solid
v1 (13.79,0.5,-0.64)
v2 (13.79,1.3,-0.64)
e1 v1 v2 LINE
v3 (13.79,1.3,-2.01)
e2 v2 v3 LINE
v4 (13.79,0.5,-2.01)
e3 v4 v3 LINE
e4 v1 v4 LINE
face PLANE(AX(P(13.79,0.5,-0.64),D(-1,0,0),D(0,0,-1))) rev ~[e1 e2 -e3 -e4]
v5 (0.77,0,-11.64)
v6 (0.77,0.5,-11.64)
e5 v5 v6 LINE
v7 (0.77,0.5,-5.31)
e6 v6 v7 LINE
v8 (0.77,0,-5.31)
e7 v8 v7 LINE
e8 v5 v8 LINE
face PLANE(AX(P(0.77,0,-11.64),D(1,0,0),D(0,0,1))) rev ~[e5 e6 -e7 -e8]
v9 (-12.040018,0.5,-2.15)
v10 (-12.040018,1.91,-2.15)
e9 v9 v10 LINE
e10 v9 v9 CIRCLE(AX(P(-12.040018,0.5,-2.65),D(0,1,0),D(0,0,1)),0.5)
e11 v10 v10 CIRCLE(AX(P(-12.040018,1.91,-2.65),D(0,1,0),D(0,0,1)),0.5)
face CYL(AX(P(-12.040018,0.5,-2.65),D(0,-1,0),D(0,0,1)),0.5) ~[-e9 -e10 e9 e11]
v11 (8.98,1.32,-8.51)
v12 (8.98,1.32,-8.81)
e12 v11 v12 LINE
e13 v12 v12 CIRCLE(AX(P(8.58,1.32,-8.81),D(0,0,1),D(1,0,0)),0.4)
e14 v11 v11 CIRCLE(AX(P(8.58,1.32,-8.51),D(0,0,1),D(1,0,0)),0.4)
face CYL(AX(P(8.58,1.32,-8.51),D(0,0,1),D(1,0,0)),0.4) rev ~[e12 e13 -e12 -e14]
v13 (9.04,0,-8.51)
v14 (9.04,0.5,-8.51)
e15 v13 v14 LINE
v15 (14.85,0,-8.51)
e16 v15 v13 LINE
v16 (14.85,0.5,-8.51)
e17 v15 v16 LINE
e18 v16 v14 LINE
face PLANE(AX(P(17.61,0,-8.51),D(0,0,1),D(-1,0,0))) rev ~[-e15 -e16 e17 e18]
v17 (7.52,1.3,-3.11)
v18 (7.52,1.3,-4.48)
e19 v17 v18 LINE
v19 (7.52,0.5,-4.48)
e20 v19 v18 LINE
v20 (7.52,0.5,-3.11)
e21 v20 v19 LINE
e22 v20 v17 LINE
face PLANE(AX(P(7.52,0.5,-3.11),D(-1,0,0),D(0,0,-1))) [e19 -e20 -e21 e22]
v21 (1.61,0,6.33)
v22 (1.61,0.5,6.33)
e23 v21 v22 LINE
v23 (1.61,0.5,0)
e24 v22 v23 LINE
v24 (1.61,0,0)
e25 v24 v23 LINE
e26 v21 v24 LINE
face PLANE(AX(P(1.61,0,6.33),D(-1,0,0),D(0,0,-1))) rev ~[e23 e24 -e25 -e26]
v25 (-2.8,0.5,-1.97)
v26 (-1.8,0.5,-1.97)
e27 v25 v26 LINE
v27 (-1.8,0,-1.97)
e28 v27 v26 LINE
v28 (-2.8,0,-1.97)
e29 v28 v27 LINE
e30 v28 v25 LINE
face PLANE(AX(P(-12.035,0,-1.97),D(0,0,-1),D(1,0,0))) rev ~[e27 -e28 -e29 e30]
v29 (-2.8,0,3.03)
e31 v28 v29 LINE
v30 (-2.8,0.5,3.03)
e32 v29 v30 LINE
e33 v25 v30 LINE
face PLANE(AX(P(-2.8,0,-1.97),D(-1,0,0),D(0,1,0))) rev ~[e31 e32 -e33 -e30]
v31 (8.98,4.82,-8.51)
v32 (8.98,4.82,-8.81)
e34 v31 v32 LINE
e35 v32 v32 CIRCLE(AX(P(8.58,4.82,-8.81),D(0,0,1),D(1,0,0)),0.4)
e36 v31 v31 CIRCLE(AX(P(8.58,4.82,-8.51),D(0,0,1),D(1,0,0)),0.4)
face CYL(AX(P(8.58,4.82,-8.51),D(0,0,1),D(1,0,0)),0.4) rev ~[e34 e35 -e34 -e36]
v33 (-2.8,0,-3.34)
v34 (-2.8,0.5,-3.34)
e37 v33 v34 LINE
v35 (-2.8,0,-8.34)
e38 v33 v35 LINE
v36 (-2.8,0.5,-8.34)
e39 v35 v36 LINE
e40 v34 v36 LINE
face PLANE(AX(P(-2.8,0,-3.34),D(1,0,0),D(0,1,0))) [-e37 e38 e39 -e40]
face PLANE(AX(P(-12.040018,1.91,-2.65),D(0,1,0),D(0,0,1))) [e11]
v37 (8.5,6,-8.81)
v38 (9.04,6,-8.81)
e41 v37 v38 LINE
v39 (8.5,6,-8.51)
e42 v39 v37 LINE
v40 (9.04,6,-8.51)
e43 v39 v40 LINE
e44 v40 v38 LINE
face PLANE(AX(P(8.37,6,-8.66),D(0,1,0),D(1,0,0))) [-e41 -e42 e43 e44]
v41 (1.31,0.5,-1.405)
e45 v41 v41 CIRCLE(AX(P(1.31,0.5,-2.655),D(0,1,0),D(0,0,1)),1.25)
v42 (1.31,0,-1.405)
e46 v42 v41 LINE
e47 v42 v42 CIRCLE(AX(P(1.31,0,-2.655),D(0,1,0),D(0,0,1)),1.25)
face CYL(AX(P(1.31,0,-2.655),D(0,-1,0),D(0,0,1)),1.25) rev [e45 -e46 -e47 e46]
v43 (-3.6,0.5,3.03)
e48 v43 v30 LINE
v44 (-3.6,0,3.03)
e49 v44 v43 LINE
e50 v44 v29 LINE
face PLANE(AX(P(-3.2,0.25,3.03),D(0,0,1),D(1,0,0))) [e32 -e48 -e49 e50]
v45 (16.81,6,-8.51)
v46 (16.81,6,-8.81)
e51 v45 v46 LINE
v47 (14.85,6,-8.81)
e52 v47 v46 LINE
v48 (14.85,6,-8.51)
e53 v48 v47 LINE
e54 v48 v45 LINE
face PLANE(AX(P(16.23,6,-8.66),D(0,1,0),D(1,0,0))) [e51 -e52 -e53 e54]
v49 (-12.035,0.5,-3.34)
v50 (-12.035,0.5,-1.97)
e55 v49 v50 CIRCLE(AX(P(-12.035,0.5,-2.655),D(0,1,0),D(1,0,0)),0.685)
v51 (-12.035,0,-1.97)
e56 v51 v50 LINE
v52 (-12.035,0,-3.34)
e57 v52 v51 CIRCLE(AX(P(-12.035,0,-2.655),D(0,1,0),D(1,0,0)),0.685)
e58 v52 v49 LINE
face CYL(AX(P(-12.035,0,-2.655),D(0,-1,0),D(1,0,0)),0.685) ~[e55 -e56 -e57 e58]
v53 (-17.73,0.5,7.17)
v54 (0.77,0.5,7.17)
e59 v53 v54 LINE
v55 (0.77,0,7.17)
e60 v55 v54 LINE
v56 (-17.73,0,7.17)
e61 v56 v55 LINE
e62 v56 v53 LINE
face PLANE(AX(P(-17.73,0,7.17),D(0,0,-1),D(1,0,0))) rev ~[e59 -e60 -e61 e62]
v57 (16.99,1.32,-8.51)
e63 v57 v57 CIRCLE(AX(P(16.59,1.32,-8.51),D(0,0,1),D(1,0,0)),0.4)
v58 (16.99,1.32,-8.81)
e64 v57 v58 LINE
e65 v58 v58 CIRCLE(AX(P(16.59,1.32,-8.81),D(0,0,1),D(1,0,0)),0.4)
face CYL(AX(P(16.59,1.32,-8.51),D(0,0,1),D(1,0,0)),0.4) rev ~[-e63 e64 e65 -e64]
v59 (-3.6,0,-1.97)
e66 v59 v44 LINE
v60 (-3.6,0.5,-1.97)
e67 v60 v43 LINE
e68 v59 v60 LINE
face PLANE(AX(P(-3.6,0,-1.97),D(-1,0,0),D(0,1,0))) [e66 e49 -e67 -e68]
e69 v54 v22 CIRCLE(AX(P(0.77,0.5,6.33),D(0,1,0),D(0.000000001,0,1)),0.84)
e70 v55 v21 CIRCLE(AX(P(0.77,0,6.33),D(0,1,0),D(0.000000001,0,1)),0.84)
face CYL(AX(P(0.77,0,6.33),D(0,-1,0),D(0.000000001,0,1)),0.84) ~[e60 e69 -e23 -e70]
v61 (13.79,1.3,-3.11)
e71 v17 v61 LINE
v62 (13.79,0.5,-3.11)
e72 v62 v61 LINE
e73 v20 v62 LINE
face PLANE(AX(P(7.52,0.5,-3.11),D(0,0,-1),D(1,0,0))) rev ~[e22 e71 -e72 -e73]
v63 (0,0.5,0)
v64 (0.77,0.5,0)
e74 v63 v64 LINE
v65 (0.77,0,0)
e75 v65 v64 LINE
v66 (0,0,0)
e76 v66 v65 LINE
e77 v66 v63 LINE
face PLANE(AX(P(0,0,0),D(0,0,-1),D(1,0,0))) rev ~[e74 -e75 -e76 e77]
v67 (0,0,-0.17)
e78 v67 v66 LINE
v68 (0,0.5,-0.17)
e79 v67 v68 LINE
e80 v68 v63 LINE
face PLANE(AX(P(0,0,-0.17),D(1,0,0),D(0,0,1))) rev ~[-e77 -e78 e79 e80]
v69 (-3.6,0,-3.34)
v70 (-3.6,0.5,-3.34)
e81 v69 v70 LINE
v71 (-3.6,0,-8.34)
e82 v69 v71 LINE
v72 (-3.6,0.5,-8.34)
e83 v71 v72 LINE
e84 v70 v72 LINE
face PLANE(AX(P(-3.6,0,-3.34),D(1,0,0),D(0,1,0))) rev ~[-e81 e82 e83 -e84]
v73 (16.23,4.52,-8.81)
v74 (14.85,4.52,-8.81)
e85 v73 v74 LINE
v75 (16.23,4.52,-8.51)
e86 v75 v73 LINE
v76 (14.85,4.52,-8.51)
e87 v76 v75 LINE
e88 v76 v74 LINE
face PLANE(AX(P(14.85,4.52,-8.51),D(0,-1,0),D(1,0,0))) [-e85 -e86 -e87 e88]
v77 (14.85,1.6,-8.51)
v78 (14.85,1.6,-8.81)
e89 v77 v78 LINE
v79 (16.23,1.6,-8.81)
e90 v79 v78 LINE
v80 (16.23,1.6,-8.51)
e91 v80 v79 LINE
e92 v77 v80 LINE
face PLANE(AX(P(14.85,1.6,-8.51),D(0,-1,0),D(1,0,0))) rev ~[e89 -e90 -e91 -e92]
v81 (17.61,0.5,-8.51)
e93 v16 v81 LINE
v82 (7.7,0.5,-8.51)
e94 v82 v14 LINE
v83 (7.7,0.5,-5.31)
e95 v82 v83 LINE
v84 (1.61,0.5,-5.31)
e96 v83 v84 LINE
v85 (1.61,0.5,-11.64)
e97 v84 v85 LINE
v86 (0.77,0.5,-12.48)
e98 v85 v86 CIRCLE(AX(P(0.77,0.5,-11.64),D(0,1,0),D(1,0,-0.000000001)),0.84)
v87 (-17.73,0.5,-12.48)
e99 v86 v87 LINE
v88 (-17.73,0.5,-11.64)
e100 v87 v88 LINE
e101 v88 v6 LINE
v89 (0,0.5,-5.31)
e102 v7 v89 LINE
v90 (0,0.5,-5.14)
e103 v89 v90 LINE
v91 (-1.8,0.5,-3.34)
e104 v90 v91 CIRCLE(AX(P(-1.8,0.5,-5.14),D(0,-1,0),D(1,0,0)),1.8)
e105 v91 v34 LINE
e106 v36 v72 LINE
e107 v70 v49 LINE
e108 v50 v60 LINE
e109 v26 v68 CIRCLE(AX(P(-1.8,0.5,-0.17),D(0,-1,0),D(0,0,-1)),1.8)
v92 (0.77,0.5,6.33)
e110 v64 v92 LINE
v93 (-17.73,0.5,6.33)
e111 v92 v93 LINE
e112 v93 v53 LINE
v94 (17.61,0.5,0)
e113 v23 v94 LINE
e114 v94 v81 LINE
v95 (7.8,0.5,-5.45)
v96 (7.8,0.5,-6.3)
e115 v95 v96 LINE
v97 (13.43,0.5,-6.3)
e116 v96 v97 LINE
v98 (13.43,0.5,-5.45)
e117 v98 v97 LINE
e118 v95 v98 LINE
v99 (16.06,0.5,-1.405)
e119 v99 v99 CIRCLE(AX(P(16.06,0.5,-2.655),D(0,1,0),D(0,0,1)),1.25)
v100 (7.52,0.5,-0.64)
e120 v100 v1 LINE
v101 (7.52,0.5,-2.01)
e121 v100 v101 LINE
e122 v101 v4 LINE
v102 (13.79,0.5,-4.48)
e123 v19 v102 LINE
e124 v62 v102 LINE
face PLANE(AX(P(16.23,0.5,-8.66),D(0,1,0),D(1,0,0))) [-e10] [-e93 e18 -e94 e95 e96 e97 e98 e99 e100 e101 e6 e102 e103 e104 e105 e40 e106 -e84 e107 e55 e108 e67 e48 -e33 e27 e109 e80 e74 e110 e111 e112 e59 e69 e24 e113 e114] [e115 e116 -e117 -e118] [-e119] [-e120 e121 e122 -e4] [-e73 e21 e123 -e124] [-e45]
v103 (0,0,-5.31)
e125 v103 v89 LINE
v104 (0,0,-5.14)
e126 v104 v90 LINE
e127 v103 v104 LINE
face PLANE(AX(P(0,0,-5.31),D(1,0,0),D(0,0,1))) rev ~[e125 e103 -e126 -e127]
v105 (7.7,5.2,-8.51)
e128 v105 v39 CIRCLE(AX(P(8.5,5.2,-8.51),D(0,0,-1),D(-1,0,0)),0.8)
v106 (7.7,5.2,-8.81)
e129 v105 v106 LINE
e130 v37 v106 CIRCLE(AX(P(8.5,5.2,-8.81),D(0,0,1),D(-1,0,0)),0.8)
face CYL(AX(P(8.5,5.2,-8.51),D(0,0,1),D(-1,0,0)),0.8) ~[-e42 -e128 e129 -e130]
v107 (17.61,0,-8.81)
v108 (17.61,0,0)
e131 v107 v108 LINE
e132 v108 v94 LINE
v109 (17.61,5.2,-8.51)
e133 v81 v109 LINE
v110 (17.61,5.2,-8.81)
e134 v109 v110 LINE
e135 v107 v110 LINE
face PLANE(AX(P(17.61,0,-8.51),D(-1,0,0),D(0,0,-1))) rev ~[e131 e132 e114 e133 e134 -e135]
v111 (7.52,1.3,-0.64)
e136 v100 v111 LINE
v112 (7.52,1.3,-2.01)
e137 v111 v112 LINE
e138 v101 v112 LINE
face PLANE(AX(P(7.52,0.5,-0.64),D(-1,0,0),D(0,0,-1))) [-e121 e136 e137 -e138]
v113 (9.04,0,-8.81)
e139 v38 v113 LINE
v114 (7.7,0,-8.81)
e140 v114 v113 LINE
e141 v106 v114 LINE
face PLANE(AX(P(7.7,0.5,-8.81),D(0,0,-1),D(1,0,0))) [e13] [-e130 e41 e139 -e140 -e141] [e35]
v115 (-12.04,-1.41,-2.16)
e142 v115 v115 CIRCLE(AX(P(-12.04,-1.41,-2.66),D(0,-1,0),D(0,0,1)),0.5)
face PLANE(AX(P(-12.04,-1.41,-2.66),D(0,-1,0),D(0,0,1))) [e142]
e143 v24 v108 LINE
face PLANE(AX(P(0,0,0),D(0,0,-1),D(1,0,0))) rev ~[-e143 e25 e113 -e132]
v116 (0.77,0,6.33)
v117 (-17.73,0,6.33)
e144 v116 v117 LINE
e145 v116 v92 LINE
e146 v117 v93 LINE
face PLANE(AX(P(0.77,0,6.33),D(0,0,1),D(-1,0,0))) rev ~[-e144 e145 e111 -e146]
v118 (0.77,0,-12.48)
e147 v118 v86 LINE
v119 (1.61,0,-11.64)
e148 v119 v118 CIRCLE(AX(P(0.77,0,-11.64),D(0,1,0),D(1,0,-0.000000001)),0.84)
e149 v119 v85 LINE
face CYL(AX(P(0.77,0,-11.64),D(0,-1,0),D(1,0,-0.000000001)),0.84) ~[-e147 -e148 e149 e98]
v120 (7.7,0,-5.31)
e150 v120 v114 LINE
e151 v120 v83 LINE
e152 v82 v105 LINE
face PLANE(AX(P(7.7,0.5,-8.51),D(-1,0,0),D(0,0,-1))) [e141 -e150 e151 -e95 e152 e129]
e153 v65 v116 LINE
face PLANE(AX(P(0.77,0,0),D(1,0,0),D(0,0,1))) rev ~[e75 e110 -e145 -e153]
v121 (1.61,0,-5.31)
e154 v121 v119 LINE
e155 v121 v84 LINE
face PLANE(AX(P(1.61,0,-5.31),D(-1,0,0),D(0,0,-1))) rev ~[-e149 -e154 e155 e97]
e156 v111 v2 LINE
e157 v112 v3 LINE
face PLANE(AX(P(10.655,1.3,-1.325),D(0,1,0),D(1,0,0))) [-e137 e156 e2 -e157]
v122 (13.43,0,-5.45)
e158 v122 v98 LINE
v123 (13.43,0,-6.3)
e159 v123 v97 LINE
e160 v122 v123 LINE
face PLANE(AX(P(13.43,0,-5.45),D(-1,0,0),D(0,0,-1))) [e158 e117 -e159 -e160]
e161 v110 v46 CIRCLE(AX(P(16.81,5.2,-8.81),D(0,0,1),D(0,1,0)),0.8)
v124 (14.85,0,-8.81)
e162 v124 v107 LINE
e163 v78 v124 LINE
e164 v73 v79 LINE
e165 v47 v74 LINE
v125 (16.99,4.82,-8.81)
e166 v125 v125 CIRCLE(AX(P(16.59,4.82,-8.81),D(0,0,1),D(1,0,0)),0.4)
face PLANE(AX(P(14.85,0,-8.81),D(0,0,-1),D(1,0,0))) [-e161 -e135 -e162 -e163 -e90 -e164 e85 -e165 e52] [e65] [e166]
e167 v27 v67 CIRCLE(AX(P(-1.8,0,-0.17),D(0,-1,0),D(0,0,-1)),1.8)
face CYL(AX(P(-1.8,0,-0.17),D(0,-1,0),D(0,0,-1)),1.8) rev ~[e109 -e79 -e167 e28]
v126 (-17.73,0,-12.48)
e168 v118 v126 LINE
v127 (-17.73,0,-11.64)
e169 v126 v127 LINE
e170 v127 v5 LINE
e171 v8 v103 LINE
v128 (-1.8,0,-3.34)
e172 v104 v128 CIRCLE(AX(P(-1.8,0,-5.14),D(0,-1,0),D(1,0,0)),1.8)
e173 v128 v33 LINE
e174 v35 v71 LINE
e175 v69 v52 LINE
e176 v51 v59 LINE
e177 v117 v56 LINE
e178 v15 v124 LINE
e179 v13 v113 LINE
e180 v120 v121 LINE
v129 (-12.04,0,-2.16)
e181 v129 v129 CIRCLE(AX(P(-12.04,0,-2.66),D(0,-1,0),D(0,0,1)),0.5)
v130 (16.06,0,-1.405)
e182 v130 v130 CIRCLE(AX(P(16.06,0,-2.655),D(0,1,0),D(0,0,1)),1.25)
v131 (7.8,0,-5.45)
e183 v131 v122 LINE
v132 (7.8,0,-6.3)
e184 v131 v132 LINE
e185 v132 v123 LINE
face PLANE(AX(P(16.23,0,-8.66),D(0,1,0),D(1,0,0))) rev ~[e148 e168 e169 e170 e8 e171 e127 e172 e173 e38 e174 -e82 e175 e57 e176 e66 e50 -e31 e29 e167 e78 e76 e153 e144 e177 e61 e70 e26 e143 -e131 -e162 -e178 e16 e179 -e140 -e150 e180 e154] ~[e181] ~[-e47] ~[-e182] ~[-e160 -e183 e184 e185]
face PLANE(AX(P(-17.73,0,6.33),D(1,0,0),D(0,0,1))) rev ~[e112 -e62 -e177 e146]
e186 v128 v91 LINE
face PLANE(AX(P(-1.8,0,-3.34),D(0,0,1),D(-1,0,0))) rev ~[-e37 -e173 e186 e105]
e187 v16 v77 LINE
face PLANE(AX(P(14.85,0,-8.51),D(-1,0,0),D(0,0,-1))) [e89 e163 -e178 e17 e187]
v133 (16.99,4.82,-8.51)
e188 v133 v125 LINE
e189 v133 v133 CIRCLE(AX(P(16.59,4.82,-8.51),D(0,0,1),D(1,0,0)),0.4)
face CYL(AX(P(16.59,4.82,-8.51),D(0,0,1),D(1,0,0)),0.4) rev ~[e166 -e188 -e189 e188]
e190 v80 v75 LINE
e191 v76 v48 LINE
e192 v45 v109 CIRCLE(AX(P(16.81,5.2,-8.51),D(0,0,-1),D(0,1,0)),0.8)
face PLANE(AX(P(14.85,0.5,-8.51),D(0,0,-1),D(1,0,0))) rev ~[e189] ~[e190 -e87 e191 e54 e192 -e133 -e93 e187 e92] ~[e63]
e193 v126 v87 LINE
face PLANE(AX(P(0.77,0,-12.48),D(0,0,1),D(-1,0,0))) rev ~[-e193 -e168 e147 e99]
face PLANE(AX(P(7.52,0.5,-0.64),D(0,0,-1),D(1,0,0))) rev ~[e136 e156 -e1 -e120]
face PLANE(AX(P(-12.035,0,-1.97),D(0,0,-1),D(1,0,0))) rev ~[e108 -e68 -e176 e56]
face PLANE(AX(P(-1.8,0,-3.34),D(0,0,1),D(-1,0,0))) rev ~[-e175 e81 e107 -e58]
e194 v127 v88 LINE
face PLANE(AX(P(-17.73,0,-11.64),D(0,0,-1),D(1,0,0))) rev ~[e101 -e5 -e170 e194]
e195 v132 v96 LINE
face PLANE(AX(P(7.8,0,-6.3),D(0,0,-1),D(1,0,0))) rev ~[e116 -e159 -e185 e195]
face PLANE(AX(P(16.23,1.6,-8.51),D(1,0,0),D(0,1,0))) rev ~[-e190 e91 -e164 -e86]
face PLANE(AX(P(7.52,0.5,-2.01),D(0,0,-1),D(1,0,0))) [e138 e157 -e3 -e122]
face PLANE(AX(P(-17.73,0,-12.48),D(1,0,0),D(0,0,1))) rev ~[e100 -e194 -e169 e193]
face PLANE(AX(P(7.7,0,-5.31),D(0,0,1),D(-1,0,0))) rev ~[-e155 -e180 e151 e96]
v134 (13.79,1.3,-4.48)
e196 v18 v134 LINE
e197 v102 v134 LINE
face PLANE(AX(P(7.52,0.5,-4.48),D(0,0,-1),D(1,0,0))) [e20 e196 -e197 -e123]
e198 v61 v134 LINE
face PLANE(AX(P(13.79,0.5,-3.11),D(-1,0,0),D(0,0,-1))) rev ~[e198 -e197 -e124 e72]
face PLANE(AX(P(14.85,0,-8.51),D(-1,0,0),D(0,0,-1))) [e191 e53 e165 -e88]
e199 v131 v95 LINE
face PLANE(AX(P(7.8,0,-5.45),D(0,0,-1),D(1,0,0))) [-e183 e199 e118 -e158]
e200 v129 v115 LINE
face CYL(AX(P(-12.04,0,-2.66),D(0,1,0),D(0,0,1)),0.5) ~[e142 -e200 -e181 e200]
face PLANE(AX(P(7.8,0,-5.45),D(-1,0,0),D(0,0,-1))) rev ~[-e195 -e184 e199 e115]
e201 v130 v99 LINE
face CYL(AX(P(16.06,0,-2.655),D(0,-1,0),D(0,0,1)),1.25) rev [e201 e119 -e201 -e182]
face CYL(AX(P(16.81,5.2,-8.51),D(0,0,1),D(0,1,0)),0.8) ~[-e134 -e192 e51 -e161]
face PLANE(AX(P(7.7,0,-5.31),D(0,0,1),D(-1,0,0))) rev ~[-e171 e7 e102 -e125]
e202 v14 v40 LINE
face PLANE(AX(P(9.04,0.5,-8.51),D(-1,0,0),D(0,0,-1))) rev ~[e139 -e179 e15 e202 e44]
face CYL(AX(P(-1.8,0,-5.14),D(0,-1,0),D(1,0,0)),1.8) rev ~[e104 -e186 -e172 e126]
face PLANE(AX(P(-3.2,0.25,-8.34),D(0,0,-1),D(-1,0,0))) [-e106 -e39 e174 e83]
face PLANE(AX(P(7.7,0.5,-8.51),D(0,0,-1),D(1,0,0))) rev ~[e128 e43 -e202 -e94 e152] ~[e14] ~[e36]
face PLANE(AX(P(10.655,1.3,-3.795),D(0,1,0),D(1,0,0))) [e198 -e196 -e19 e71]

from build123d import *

# Parameters (mm, degrees)
SKETCH1_W           = 6.27
SKETCH1_H           = 1.37
SKETCH1_R           = 1.25
SKETCH1_W_2         = 5.63
SKETCH1_H_2         = 0.85
SKETCH1_R_2         = 0.685
SKETCH1_R_3         = 0.5
SKETCH1_W_3         = 1.34
SKETCH1_H_3         = 0.3
SKETCH1_W_4         = 2.76
BOSS_EXTRUDE2_DEPTH = 0.5
SKETCH4_R           = 0.5
BOSS_EXTRUDE3_DEPTH = 1.41
SKETCH5_R           = 0.5
BOSS_EXTRUDE4_DEPTH = 1.41
SKETCH6_W           = 6.27
SKETCH6_H           = 1.37
BOSS_EXTRUDE5_DEPTH = 0.8
SKETCH7_W           = 1.34
SKETCH7_H           = 0.3
SKETCH7_W_2         = 2.76
BOSS_EXTRUDE6_DEPTH = 5.5
SKETCH8_W           = 1.38
SKETCH8_H           = 2.92
CUT_EXTRUDE1_DEPTH  = 5.5
SKETCH9_R           = 0.4
CUT_EXTRUDE2_DEPTH  = 5.5
SKETCH10_R          = 0.4
CUT_EXTRUDE4_DEPTH  = 5.5
SKETCH11_W          = 0.8
SKETCH11_H          = 0.5
BOSS_EXTRUDE7_DEPTH = 5
SKETCH12_W          = 0.8
SKETCH12_H          = 0.5
BOSS_EXTRUDE8_DEPTH = 5


with BuildPart() as part:
    # Sketch1 → Boss-Extrude2 (new body)
    # profile 1 of 9: a face of its own
    with BuildSketch(Plane(origin=(0, 0, 0), x_dir=(1, 0, 0), z_dir=(0, 1, 0))):
        with BuildLine():
            Line((0, 5.31), (0, 5.14))
            ThreePointArc((0, 5.14), (-0.527207794, 3.867207794), (-1.8, 3.34))
            Line((-1.8, 3.34), (-12.035, 3.34))
            ThreePointArc((-12.035, 3.34), (-11.550631855, 3.139368145), (-11.35, 2.655))
            ThreePointArc((-11.35, 2.655), (-11.550631855, 2.170631855), (-12.035, 1.97))
            Line((-12.035, 1.97), (-1.8, 1.97))
            ThreePointArc((-1.8, 1.97), (-0.527207794, 1.442792206), (0, 0.17))
            Line((0, 0.17), (0, 0))
            Line((0, 0), (0.77, 0))
            Line((0.77, 0), (1.61, 0))
            Line((1.61, 0), (17.61, 0))
            Line((17.61, 0), (17.61, 8.51))
            Line((17.61, 8.51), (14.85, 8.51))
            Line((14.85, 8.51), (9.04, 8.51))
            Line((9.04, 8.51), (7.7, 8.51))
            Line((7.7, 8.51), (7.7, 5.31))
            Line((7.7, 5.31), (1.61, 5.31))
            Line((1.61, 5.31), (0.77, 5.31))
            Line((0.77, 5.31), (0, 5.31))
        make_face()
        with Locations((10.655, 1.325)):
            Rectangle(SKETCH1_W, SKETCH1_H, mode=Mode.SUBTRACT)
        with Locations(Location((1.31, 2.655, 0), (0, 0, 270))):
            Circle(SKETCH1_R, mode=Mode.SUBTRACT)
        with Locations((10.655, 3.795)):
            Rectangle(SKETCH1_W, SKETCH1_H, mode=Mode.SUBTRACT)
        with Locations(Location((16.06, 2.655, 0), (0, 0, 270))):
            Circle(SKETCH1_R, mode=Mode.SUBTRACT)
        with Locations((10.615, 5.875)):
            Rectangle(SKETCH1_W_2, SKETCH1_H_2, mode=Mode.SUBTRACT)
    # profile 2 of 9: a face of its own
    with BuildSketch(Plane(origin=(0, 0, 0), x_dir=(1, 0, 0), z_dir=(0, 1, 0))):
        with BuildLine():
            Line((0.77, 11.64), (0.77, 5.31))
            Line((0.77, 5.31), (1.61, 5.31))
            Line((1.61, 5.31), (1.61, 11.64))
            ThreePointArc((1.61, 11.64), (1.363969696, 12.233969696), (0.77, 12.48))
            Line((0.77, 12.48), (-17.73, 12.48))
            Line((-17.73, 12.48), (-17.73, 11.64))
            Line((-17.73, 11.64), (0.77, 11.64))
        make_face()
    # profile 3 of 9: a face of its own
    with BuildSketch(Plane(origin=(0, 0, 0), x_dir=(1, 0, 0), z_dir=(0, 1, 0))):
        with BuildLine():
            Line((1.61, 0), (0.77, 0))
            Line((0.77, 0), (0.77, -6.33))
            Line((0.77, -6.33), (-17.73, -6.33))
            Line((-17.73, -6.33), (-17.73, -7.17))
            Line((-17.73, -7.17), (0.77, -7.17))
            ThreePointArc((0.77, -7.17), (1.363969696, -6.923969696), (1.61, -6.33))
            Line((1.61, -6.33), (1.61, 0))
        make_face()
    # profile 4 of 9: a face of its own
    with BuildSketch(Plane(origin=(0, 0, 0), x_dir=(1, 0, 0), z_dir=(0, 1, 0))):
        with Locations((10.655, 1.325)):
            Rectangle(SKETCH1_W, SKETCH1_H)
    # profile 5 of 9: a face of its own
    with BuildSketch(Plane(origin=(0, 0, 0), x_dir=(1, 0, 0), z_dir=(0, 1, 0))):
        with Locations((10.655, 3.795)):
            Rectangle(SKETCH1_W, SKETCH1_H)
    # profile 6 of 9: a face of its own
    with BuildSketch(Plane(origin=(0, 0, 0), x_dir=(1, 0, 0), z_dir=(0, 1, 0))):
        with Locations((-12.035, 2.655)):
            Circle(SKETCH1_R_2)
        with Locations((-12.035, 2.655)):
            Circle(SKETCH1_R_3, mode=Mode.SUBTRACT)
    # profile 7 of 9: a face of its own
    with BuildSketch(Plane(origin=(0, 0, 0), x_dir=(1, 0, 0), z_dir=(0, 1, 0))):
        with Locations((-12.035, 2.655)):
            Circle(SKETCH1_R_3)
    # profile 8 of 9: a face of its own
    with BuildSketch(Plane(origin=(0, 0, 0), x_dir=(1, 0, 0), z_dir=(0, 1, 0))):
        with Locations((8.37, 8.66)):
            Rectangle(SKETCH1_W_3, SKETCH1_H_3)
    # profile 9 of 9: a face of its own
    with BuildSketch(Plane(origin=(0, 0, 0), x_dir=(1, 0, 0), z_dir=(0, 1, 0))):
        with Locations((16.23, 8.66)):
            Rectangle(SKETCH1_W_4, SKETCH1_H_3)
    extrude(amount=BOSS_EXTRUDE2_DEPTH)

    # Sketch4 → Boss-Extrude3 (add)
    with BuildSketch(Plane(origin=(0, 0.5, 0), x_dir=(1, 0, 0), z_dir=(0, 1, 0))):
        with Locations(Location((-12.040018383, 2.65, 0), (0, 0, 270))):
            Circle(SKETCH4_R)
    extrude(amount=BOSS_EXTRUDE3_DEPTH)

    # Sketch5 → Boss-Extrude4 (add)
    with BuildSketch(Plane.XZ):
        with Locations(Location((-12.04, -2.66, 0), (0, 0, 90))):
            Circle(SKETCH5_R)
    extrude(amount=BOSS_EXTRUDE4_DEPTH)

    # Sketch6 → Boss-Extrude5 (add)
    with BuildSketch(Plane(origin=(0, 0.5, 0), x_dir=(1, 0, 0), z_dir=(0, 1, 0))):
        with Locations((10.655, 3.795)):
            Rectangle(SKETCH6_W, SKETCH6_H)
        with Locations((10.655, 1.325)):
            Rectangle(SKETCH6_W, SKETCH6_H)
    extrude(amount=BOSS_EXTRUDE5_DEPTH)

    # Sketch7 → Boss-Extrude6 (add)
    with BuildSketch(Plane(origin=(0, 0.5, 0), x_dir=(1, 0, 0), z_dir=(0, 1, 0))):
        with Locations((8.37, 8.66)):
            Rectangle(SKETCH7_W, SKETCH7_H)
        with Locations((16.23, 8.66)):
            Rectangle(SKETCH7_W_2, SKETCH7_H)
    extrude(amount=BOSS_EXTRUDE6_DEPTH)

    # Sketch8 → Cut-Extrude1 (cut)
    with BuildSketch(Plane.XY.offset(-8.51)):
        with Locations((15.54, 3.06)):
            Rectangle(SKETCH8_W, SKETCH8_H)
    extrude(amount=-CUT_EXTRUDE1_DEPTH, mode=Mode.SUBTRACT)

    # Sketch9 → Cut-Extrude2 (cut)
    with BuildSketch(Plane.XY.offset(-8.51)):
        with BuildLine():
            ThreePointArc((7.7, 5.2), (7.934314575, 5.765685425), (8.5, 6))
            Line((8.5, 6), (7.7, 6))
            Line((7.7, 6), (7.7, 5.2))
        make_face()
        with Locations((8.58, 4.82)):
            Circle(SKETCH9_R)
        with Locations((8.58, 1.32)):
            Circle(SKETCH9_R)
    extrude(amount=-CUT_EXTRUDE2_DEPTH, mode=Mode.SUBTRACT)

    # Sketch10 → Cut-Extrude4 (cut)
    with BuildSketch(Plane.XY.offset(-8.51)):
        with Locations((16.59, 4.82)):
            Circle(SKETCH10_R)
        with BuildLine():
            Line((17.61, 6), (16.81, 6))
            ThreePointArc((16.81, 6), (17.375685425, 5.765685425), (17.61, 5.2))
            Line((17.61, 5.2), (17.61, 6))
        make_face()
        with Locations((16.59, 1.32)):
            Circle(SKETCH10_R)
    extrude(amount=-CUT_EXTRUDE4_DEPTH, mode=Mode.SUBTRACT)

    # Sketch11 → Boss-Extrude7 (add)
    with BuildSketch(Plane.XY.offset(-1.97)):
        with Locations((-3.2, 0.25)):
            Rectangle(SKETCH11_W, SKETCH11_H)
    extrude(amount=BOSS_EXTRUDE7_DEPTH)

    # Sketch12 → Boss-Extrude8 (add)
    with BuildSketch(Plane(origin=(0, 0, -3.34), x_dir=(-1, 0, 0), z_dir=(0, 0, -1))):
        with Locations((3.2, 0.25)):
            Rectangle(SKETCH12_W, SKETCH12_H)
    extrude(amount=BOSS_EXTRUDE8_DEPTH)


solid = part.part
